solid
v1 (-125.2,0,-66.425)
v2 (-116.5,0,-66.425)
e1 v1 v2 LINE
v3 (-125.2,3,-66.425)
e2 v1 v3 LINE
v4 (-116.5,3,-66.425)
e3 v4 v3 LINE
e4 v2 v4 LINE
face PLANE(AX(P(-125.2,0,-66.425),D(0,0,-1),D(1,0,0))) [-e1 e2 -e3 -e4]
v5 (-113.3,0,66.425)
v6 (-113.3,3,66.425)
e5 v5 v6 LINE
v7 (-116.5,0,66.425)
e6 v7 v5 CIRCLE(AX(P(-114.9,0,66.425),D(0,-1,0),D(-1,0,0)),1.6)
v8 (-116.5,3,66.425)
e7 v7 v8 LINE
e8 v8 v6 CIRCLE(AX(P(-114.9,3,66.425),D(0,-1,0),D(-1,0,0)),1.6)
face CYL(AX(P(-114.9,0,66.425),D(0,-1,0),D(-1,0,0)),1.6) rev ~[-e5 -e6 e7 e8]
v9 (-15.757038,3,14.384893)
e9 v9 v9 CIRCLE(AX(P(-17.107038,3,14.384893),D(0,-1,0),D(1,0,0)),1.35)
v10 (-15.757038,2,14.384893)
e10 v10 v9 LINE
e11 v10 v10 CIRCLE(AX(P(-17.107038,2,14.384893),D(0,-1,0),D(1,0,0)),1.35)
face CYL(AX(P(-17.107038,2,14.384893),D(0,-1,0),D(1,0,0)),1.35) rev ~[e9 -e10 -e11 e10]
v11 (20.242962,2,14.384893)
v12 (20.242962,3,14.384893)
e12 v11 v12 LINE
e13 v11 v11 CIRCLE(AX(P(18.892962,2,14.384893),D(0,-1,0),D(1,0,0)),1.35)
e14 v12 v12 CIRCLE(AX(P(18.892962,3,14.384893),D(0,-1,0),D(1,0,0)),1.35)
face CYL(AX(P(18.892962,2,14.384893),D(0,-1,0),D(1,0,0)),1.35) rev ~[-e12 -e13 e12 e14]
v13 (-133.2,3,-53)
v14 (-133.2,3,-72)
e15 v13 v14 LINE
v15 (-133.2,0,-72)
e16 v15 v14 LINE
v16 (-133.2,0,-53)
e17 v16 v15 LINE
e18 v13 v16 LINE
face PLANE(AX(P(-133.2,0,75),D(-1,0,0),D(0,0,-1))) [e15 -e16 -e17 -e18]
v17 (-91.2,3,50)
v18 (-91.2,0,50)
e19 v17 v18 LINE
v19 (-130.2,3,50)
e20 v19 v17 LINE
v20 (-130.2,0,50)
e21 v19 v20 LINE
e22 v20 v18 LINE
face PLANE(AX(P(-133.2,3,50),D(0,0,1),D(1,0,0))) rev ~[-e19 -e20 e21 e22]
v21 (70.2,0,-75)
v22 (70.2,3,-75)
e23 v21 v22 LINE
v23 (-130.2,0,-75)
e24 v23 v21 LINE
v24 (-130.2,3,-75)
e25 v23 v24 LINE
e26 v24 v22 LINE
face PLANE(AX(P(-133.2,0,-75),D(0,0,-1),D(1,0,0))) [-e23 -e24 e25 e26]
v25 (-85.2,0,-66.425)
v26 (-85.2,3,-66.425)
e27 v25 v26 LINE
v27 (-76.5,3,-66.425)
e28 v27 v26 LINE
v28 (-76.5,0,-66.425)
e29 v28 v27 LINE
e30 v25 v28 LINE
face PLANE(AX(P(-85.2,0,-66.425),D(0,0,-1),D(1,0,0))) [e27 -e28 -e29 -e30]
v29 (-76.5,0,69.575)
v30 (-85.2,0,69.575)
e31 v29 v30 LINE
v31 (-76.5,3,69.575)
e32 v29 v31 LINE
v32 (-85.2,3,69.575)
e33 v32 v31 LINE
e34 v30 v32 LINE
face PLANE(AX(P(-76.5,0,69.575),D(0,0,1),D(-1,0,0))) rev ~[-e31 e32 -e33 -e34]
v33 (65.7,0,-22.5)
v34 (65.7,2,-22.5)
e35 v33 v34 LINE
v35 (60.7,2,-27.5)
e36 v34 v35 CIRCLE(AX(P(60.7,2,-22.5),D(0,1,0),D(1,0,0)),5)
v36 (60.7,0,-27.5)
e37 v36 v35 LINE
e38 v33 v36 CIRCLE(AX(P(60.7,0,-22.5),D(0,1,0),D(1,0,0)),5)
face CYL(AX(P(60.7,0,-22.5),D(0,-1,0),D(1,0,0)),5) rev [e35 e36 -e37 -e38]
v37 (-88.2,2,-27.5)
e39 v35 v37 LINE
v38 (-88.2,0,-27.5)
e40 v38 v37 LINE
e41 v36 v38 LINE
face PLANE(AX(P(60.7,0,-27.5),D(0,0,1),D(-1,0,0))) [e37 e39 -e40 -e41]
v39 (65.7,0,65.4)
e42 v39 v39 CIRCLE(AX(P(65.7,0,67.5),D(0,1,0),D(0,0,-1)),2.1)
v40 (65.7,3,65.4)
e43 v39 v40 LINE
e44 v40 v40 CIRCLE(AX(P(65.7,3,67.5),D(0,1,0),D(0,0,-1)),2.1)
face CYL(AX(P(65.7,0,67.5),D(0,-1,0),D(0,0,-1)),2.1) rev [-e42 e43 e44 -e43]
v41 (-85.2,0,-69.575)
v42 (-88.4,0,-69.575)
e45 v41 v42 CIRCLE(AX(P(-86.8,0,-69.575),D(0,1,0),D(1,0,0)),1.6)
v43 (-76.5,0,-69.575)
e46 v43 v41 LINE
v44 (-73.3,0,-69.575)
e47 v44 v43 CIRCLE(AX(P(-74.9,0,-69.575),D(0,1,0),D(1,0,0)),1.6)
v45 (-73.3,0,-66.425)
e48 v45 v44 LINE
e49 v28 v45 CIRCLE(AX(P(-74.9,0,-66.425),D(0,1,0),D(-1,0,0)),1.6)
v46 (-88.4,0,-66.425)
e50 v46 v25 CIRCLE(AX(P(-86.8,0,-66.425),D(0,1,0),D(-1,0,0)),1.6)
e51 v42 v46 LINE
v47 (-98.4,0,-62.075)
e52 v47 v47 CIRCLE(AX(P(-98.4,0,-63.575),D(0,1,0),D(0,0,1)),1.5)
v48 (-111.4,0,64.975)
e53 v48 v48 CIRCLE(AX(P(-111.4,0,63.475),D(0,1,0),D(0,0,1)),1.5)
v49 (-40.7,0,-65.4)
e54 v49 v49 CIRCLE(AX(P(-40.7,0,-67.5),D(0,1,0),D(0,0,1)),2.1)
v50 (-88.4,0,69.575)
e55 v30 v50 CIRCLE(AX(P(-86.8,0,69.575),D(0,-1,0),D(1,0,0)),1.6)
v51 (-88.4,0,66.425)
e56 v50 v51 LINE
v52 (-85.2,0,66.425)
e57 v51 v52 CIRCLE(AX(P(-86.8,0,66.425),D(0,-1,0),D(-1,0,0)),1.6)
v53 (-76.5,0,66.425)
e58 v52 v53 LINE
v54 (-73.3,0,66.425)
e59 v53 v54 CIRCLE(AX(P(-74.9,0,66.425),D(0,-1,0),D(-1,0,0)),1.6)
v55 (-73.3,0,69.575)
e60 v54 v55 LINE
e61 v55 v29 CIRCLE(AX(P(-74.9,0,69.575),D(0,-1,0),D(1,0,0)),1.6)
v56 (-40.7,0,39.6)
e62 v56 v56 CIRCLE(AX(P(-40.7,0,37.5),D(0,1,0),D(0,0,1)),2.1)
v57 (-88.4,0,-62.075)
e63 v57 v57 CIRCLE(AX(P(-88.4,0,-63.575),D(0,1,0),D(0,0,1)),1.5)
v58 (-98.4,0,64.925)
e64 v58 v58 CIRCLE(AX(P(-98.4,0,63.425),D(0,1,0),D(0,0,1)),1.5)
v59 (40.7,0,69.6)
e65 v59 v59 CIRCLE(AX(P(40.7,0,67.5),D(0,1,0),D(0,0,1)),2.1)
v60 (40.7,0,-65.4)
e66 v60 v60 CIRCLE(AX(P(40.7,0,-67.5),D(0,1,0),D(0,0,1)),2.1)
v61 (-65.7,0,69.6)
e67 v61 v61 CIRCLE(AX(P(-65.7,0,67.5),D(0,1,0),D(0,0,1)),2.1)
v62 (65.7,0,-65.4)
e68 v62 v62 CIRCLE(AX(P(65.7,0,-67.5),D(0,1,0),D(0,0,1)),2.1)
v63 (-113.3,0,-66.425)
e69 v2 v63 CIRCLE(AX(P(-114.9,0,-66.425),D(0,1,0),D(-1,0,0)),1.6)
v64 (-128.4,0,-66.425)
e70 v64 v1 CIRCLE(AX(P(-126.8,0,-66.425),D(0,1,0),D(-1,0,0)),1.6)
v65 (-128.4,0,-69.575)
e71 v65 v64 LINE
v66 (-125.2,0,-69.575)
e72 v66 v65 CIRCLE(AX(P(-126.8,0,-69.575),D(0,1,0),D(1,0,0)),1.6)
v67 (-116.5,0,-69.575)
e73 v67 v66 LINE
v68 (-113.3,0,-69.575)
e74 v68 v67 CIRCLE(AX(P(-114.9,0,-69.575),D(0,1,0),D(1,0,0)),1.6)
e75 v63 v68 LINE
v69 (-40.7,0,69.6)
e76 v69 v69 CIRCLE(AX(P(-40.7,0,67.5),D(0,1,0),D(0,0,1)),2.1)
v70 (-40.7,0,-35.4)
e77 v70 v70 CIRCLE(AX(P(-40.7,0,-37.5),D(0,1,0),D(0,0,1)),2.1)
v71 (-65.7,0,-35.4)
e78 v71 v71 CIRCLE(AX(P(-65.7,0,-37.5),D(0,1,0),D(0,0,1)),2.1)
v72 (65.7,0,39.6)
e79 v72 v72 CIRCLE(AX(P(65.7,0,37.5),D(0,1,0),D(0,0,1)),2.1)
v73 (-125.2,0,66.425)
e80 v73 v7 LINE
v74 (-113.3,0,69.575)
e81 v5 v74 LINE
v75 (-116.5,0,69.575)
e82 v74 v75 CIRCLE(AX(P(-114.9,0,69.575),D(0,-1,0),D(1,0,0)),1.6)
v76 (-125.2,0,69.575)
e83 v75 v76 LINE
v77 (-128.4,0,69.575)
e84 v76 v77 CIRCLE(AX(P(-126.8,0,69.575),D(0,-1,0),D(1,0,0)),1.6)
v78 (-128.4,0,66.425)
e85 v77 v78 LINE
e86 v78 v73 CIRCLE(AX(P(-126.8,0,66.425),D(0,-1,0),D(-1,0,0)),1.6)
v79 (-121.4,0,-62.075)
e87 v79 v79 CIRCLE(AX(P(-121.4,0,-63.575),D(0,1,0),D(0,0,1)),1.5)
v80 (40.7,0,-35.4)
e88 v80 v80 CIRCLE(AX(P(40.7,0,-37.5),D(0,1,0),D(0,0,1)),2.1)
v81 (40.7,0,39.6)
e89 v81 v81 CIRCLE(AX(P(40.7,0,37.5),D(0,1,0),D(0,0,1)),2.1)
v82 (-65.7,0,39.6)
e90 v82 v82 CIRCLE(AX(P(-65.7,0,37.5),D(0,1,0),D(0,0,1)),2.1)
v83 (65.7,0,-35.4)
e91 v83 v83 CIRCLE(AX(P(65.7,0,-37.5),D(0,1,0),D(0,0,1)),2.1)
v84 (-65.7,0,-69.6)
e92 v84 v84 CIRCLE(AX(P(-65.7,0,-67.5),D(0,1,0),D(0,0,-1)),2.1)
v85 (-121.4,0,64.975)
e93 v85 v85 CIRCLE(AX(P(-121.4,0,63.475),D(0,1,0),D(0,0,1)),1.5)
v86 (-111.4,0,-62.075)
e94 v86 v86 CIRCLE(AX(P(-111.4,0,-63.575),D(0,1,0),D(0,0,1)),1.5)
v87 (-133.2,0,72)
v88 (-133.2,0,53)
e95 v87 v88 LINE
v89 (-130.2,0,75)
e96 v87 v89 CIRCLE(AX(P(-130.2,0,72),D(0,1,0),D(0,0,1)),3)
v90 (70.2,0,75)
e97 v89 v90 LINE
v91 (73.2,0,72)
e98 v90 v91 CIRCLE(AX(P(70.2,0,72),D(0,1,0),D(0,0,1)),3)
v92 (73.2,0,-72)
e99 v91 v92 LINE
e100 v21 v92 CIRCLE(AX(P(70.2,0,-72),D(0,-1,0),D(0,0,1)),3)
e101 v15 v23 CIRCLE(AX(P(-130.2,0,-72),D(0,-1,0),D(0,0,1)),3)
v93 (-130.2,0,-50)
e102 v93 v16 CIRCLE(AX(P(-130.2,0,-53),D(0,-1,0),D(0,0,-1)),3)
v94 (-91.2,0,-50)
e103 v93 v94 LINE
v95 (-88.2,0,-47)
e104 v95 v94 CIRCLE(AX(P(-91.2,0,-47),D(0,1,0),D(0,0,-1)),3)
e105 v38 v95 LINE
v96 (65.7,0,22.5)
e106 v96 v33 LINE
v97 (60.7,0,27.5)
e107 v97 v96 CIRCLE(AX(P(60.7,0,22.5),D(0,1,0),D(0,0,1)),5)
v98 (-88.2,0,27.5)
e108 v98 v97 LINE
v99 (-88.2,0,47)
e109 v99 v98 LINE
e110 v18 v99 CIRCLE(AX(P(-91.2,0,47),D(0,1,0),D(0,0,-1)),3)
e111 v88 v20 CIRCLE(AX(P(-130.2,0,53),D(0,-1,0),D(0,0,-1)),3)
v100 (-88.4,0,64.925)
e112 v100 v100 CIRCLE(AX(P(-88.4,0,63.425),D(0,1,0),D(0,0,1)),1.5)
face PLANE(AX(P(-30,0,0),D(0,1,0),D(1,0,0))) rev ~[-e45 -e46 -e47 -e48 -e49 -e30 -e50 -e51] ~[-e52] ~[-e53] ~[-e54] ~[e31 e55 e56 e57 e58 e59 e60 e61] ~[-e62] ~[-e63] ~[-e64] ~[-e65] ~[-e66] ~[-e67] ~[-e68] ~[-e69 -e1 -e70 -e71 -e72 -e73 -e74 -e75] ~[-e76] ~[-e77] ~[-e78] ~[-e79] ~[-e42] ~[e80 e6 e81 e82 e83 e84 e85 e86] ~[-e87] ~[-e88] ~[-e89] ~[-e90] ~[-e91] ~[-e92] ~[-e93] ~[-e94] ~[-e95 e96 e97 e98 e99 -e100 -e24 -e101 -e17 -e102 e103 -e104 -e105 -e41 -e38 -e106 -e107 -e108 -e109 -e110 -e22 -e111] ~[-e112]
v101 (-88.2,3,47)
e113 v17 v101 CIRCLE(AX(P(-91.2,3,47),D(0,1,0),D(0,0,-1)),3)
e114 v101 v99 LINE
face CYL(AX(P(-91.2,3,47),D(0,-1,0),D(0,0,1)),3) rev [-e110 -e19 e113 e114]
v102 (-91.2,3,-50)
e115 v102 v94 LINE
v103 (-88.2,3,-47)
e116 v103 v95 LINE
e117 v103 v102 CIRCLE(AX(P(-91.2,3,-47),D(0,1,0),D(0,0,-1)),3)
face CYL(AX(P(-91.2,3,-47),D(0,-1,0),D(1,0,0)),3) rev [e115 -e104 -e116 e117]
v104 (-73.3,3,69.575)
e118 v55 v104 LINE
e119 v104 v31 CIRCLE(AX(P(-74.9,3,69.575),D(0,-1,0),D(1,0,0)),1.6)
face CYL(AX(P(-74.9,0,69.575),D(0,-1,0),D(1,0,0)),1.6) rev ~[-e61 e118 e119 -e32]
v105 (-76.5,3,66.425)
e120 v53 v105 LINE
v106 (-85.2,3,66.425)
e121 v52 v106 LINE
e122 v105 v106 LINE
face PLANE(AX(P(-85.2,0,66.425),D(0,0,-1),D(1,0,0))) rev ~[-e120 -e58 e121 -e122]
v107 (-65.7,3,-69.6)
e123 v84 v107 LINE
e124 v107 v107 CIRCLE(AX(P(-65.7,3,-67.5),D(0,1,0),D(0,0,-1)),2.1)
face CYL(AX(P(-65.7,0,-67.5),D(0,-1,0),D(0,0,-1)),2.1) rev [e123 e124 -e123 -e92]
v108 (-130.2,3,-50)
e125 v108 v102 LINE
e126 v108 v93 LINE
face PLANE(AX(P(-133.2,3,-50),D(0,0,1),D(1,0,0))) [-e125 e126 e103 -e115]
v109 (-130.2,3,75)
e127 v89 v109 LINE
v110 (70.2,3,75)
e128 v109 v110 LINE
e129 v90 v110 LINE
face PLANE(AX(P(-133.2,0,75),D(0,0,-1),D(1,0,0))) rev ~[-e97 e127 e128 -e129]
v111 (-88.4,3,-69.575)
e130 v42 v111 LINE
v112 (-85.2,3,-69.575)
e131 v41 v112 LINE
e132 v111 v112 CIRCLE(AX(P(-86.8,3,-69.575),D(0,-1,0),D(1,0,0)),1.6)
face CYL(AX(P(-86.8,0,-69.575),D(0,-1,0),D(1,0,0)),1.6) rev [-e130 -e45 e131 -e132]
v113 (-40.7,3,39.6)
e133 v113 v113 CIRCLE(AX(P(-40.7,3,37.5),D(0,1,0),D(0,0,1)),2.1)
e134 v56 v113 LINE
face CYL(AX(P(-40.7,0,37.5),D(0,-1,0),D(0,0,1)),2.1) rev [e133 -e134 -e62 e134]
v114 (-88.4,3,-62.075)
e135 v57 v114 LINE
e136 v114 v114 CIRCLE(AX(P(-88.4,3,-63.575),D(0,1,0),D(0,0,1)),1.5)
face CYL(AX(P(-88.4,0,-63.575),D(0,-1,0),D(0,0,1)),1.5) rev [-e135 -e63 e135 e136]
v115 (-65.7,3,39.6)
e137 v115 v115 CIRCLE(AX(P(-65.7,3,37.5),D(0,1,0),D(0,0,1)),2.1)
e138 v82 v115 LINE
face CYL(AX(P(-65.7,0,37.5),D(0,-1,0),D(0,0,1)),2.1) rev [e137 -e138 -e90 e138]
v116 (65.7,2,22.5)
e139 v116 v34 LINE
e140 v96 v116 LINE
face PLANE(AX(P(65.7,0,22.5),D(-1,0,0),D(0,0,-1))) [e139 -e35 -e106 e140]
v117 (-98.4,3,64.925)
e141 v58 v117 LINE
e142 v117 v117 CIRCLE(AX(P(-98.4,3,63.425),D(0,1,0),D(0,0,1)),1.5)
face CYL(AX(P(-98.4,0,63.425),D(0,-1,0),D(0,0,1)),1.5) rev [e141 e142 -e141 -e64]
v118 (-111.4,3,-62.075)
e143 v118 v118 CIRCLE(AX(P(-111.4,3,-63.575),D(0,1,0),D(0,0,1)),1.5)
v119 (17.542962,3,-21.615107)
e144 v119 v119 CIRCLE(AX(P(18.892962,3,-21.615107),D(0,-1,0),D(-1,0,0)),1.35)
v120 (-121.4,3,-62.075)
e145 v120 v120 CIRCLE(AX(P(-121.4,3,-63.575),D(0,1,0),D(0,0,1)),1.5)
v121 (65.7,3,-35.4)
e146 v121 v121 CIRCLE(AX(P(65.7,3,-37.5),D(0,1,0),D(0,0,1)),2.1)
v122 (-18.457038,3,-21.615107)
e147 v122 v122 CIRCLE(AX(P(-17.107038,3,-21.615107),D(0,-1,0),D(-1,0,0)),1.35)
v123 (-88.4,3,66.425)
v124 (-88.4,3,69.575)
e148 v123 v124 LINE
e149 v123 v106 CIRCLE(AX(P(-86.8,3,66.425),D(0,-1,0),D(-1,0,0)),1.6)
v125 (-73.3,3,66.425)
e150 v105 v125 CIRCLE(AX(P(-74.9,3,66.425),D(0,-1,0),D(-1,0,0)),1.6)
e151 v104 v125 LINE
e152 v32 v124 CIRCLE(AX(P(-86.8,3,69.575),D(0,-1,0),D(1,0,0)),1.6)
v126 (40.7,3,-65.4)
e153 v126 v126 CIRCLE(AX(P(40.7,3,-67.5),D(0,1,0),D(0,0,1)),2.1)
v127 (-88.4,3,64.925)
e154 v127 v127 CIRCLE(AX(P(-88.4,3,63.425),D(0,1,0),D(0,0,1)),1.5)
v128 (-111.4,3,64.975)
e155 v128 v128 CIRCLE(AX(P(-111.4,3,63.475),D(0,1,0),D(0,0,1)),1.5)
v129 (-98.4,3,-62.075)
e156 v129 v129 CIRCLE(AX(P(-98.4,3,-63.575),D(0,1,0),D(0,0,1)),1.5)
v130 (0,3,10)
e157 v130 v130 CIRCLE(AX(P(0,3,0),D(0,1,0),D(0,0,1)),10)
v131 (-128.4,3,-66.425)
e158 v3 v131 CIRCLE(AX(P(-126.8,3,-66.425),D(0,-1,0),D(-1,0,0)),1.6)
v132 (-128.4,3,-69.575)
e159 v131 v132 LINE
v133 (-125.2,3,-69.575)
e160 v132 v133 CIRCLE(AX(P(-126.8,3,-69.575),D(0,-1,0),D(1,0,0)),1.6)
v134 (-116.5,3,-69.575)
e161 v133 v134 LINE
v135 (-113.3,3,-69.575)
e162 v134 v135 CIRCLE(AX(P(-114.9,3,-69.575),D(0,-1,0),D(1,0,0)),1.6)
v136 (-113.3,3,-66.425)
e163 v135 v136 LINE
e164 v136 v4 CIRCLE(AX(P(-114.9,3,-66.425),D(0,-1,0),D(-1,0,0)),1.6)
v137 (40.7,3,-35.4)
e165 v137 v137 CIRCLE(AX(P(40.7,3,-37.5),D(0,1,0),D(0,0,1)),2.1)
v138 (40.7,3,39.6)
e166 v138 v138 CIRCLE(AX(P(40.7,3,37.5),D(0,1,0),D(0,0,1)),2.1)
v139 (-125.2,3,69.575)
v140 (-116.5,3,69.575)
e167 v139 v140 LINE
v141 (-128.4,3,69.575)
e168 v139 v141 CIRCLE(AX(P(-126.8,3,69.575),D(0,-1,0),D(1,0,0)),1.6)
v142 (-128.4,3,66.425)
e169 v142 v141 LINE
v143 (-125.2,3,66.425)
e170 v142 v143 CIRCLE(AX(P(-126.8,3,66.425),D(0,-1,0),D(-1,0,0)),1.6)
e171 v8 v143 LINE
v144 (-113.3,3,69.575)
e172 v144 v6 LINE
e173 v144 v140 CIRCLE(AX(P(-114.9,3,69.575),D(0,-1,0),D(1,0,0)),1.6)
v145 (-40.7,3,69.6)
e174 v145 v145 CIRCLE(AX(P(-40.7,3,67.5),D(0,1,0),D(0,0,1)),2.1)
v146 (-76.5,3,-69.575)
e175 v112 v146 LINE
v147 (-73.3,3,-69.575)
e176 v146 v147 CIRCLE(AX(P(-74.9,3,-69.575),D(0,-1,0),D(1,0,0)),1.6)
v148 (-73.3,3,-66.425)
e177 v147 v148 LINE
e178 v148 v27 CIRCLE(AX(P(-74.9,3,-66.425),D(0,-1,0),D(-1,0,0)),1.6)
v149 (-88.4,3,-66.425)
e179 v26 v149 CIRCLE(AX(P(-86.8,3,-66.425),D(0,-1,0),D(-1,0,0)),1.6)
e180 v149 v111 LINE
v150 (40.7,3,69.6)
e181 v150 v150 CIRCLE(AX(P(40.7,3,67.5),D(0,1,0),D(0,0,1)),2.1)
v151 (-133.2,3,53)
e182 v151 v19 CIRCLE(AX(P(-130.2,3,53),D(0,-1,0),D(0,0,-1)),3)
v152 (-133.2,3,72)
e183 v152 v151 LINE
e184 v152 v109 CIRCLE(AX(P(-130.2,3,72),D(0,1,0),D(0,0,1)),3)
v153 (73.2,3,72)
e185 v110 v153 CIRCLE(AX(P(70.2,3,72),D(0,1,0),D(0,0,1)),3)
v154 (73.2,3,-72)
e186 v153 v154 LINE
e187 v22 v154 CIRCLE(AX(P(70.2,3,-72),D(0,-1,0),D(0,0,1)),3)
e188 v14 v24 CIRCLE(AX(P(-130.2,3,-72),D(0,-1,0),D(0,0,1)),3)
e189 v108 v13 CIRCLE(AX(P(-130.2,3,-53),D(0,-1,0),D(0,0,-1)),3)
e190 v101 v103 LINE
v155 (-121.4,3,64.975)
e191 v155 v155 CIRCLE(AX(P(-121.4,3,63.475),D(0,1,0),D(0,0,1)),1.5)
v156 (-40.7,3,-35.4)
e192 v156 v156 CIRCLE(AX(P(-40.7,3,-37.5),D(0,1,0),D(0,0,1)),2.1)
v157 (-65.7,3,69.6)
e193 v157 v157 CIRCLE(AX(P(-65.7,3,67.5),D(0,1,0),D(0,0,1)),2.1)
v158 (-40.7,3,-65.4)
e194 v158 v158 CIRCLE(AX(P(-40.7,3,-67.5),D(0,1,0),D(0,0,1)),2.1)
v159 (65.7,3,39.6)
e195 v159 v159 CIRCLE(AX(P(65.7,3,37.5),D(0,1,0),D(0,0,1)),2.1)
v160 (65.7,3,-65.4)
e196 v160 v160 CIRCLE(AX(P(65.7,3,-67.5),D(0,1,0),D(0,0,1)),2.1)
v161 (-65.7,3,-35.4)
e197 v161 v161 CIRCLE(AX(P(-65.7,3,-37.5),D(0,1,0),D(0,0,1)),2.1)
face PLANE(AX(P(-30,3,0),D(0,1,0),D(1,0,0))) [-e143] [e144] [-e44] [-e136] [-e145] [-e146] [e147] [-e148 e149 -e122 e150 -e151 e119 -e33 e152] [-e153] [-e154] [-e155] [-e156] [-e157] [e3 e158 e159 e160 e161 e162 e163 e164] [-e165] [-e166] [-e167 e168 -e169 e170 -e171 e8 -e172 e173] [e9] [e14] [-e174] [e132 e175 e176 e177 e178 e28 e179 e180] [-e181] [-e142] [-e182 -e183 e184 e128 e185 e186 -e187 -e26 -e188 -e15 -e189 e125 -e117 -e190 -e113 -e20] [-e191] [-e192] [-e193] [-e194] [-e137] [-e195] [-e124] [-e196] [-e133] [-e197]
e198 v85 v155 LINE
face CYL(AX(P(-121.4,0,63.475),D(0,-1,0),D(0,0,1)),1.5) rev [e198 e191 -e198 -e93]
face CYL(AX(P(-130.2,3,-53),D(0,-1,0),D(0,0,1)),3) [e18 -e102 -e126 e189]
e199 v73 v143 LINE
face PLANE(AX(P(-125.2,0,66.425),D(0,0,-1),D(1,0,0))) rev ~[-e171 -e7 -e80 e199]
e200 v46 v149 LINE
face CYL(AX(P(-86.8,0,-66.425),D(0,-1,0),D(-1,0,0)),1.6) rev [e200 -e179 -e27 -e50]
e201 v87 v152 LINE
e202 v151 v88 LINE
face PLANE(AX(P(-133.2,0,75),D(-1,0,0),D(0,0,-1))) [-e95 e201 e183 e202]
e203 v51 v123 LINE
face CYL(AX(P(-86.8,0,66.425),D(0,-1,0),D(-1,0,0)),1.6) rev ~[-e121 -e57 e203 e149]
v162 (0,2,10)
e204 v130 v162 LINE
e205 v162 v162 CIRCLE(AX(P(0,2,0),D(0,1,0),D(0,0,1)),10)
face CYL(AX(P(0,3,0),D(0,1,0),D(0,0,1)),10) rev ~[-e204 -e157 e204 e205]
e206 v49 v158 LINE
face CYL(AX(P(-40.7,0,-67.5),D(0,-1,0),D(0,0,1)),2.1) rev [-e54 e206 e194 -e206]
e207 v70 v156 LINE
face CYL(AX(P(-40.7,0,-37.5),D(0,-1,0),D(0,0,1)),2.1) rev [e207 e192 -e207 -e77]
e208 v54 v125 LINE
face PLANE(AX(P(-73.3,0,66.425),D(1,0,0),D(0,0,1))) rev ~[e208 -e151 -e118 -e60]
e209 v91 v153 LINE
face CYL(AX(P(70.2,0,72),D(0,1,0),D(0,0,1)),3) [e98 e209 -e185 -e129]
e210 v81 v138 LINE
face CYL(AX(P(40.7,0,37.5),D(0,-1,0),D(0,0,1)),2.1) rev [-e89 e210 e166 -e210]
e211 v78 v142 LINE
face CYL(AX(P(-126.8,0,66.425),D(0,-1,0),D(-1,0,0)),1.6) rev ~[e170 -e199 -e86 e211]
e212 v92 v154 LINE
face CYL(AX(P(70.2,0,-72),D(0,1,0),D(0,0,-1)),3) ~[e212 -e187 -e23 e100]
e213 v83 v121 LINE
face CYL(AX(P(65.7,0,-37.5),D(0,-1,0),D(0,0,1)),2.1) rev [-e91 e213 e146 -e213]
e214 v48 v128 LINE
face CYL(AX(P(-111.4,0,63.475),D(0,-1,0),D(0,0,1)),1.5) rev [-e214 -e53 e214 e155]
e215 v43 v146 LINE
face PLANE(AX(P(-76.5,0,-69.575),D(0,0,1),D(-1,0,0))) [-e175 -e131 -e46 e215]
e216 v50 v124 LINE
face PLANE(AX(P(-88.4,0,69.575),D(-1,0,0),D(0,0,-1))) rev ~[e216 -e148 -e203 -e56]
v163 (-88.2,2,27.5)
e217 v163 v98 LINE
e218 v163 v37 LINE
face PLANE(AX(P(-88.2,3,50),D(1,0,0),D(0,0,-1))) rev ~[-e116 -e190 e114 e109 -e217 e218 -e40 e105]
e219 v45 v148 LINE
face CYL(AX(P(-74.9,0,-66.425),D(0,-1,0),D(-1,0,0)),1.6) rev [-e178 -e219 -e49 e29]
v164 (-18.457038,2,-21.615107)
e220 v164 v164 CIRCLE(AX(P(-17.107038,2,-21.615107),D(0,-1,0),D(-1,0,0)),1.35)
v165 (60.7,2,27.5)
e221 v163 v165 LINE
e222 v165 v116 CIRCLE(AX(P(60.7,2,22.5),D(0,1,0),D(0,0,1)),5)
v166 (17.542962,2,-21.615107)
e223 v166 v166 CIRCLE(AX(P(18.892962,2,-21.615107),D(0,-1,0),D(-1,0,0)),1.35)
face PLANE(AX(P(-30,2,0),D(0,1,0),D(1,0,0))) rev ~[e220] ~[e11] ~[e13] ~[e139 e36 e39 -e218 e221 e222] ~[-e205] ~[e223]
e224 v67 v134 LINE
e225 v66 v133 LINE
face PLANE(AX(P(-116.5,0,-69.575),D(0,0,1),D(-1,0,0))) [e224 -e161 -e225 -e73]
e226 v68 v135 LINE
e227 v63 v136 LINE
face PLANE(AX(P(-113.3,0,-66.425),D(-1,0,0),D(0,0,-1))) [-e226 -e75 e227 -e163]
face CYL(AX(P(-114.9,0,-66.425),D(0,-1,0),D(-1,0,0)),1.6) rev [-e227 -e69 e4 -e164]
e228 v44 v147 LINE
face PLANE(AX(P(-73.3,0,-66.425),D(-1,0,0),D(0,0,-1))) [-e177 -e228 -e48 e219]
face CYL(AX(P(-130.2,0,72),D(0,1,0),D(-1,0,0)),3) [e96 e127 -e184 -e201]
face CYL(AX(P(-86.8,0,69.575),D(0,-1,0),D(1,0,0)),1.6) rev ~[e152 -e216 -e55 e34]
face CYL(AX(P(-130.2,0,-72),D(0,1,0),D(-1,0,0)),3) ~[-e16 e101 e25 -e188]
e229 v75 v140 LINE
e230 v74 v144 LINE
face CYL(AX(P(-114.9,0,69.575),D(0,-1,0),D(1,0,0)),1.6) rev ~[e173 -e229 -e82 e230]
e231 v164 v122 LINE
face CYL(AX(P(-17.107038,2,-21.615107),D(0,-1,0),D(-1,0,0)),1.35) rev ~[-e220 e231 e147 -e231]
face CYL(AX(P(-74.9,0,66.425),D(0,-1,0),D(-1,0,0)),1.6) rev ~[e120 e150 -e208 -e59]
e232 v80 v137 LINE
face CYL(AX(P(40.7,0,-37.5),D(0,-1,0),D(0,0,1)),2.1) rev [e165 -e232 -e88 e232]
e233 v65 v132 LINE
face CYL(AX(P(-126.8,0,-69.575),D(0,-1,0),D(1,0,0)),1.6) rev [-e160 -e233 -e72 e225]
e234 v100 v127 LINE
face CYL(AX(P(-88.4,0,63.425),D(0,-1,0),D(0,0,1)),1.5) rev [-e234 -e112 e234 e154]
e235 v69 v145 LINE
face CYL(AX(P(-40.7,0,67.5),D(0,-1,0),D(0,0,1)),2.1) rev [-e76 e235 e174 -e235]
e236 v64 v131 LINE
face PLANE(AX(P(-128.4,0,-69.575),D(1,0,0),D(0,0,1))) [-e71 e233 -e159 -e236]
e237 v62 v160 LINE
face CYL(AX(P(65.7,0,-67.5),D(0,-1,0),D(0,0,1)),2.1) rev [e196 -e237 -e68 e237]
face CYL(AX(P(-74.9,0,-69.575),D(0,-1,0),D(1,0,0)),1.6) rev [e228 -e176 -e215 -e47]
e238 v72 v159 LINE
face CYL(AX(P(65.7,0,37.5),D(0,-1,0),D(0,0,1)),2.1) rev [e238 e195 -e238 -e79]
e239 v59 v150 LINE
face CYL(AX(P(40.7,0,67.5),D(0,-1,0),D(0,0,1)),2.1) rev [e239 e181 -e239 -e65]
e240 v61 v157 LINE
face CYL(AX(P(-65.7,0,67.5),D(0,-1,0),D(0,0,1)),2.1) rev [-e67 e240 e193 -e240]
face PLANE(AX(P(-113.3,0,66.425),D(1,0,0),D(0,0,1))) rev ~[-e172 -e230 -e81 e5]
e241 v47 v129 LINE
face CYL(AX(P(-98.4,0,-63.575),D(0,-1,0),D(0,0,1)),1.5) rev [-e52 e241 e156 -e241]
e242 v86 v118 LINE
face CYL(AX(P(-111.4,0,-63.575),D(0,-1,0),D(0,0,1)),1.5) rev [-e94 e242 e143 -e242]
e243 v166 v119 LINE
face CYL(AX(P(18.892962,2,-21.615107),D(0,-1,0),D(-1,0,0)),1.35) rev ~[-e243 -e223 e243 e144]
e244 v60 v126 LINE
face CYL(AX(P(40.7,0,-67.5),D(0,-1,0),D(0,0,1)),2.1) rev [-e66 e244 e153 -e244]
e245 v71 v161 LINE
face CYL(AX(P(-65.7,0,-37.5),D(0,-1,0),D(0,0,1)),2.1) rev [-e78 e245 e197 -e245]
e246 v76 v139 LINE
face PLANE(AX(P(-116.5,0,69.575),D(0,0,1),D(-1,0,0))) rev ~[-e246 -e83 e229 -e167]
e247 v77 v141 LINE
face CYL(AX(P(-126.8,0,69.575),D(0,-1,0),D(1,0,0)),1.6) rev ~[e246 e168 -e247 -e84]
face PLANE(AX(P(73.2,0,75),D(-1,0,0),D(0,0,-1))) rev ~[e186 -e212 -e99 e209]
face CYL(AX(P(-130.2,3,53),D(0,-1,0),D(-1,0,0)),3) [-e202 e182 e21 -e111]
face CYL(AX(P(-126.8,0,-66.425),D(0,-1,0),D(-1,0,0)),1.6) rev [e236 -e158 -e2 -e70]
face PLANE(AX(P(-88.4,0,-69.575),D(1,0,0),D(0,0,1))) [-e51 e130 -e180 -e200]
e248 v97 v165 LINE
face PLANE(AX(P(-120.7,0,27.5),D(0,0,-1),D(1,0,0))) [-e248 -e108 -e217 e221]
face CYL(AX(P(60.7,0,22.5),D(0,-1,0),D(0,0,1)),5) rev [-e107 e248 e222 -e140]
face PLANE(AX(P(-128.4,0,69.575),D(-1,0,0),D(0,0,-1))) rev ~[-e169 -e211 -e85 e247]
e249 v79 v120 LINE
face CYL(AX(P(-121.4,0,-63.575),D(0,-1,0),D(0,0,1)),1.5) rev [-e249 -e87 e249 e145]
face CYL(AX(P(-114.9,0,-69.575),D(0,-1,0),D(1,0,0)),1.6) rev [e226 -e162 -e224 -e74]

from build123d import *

# Parameters (mm, degrees)
SKETCH_1_W          = 206.4
SKETCH_1_H          = 150
SKETCH_1_R          = 2.1
SKETCH_1_R_2        = 1.5
EXTRUDE_1_DEPTH     = 3
CUT_EXTRUDE_1_DEPTH = 153.892903694
FILLET_1_R          = 3
CUT_EXTRUDE_2_DEPTH = 2
SKETCH_6_R          = 10
CUT_EXTRUDE_3_DEPTH = 10
SKETCH_7_W          = 45
SKETCH_7_H          = 100
CUT_EXTRUDE_4_DEPTH = 10
FILLET_2_R          = 3
CUT_EXTRUDE_5_DEPTH = 10


with BuildPart() as part:
    # 草图1 → 凸台-拉伸1 (new body)
    with BuildSketch(Plane(origin=(0, 0, 0), x_dir=(1, 0, 0), z_dir=(0, 1, 0))):
        with Locations((-30, 0)):
            Rectangle(SKETCH_1_W, SKETCH_1_H)
        with Locations(Location((65.7, 67.5, 0), (0, 0, 270))):
            Circle(SKETCH_1_R, mode=Mode.SUBTRACT)
        with Locations(Location((65.7, -67.5, 0), (0, 0, 90))):
            Circle(SKETCH_1_R, mode=Mode.SUBTRACT)
        with Locations(Location((-65.7, -67.5, 0), (0, 0, 270))):
            Circle(SKETCH_1_R, mode=Mode.SUBTRACT)
        with Locations(Location((-65.7, 67.5, 0), (0, 0, 90))):
            Circle(SKETCH_1_R, mode=Mode.SUBTRACT)
        with Locations(Location((-65.7, 37.5, 0), (0, 0, 270))):
            Circle(SKETCH_1_R, mode=Mode.SUBTRACT)
        with Locations(Location((-40.7, 37.5, 0), (0, 0, 270))):
            Circle(SKETCH_1_R, mode=Mode.SUBTRACT)
        with Locations(Location((-40.7, 67.5, 0), (0, 0, 270))):
            Circle(SKETCH_1_R, mode=Mode.SUBTRACT)
        with Locations(Location((-40.7, -67.5, 0), (0, 0, 270))):
            Circle(SKETCH_1_R, mode=Mode.SUBTRACT)
        with Locations(Location((-40.7, -37.5, 0), (0, 0, 270))):
            Circle(SKETCH_1_R, mode=Mode.SUBTRACT)
        with Locations(Location((-65.7, -37.5, 0), (0, 0, 270))):
            Circle(SKETCH_1_R, mode=Mode.SUBTRACT)
        with Locations(Location((40.7, -67.5, 0), (0, 0, 270))):
            Circle(SKETCH_1_R, mode=Mode.SUBTRACT)
        with Locations(Location((40.7, -37.5, 0), (0, 0, 270))):
            Circle(SKETCH_1_R, mode=Mode.SUBTRACT)
        with Locations(Location((65.7, -37.5, 0), (0, 0, 270))):
            Circle(SKETCH_1_R, mode=Mode.SUBTRACT)
        with Locations(Location((65.7, 37.5, 0), (0, 0, 270))):
            Circle(SKETCH_1_R, mode=Mode.SUBTRACT)
        with Locations(Location((40.7, 37.5, 0), (0, 0, 270))):
            Circle(SKETCH_1_R, mode=Mode.SUBTRACT)
        with Locations(Location((40.7, 67.5, 0), (0, 0, 270))):
            Circle(SKETCH_1_R, mode=Mode.SUBTRACT)
        with Locations(Location((-98.4, 63.575, 0), (0, 0, 270))):
            Circle(SKETCH_1_R_2, mode=Mode.SUBTRACT)
        with Locations(Location((-88.4, 63.575, 0), (0, 0, 270))):
            Circle(SKETCH_1_R_2, mode=Mode.SUBTRACT)
        with Locations(Location((-111.4, 63.575, 0), (0, 0, 270))):
            Circle(SKETCH_1_R_2, mode=Mode.SUBTRACT)
        with Locations(Location((-121.4, 63.575, 0), (0, 0, 270))):
            Circle(SKETCH_1_R_2, mode=Mode.SUBTRACT)
        with Locations(Location((-121.4, -63.474999999, 0), (0, 0, 270))):
            Circle(SKETCH_1_R_2, mode=Mode.SUBTRACT)
        with Locations(Location((-111.4, -63.474999999, 0), (0, 0, 270))):
            Circle(SKETCH_1_R_2, mode=Mode.SUBTRACT)
        with Locations(Location((-98.4, -63.425, 0), (0, 0, 270))):
            Circle(SKETCH_1_R_2, mode=Mode.SUBTRACT)
        with Locations(Location((-88.4, -63.425, 0), (0, 0, 270))):
            Circle(SKETCH_1_R_2, mode=Mode.SUBTRACT)
    extrude(amount=EXTRUDE_1_DEPTH)

    # 草图2 → 切除-拉伸1 (cut, through all)
    with BuildSketch(Plane(origin=(0, 0, 0), x_dir=(1, 0, 0), z_dir=(0, 1, 0))):
        with BuildLine():
            Line((-125.2, -66.425), (-116.5, -66.425))
            ThreePointArc((-116.5, -66.425), (-114.9, -64.825), (-113.3, -66.425))
            Line((-113.3, -66.425), (-113.3, -69.575))
            ThreePointArc((-113.3, -69.575), (-114.9, -71.175), (-116.5, -69.575))
            Line((-116.5, -69.575), (-125.2, -69.575))
            ThreePointArc((-125.2, -69.575), (-126.8, -71.175), (-128.4, -69.575))
            Line((-128.4, -69.575), (-128.4, -66.425))
            ThreePointArc((-128.4, -66.425), (-126.8, -64.825), (-125.2, -66.425))
        make_face()
        with BuildLine():
            Line((-85.2, -66.425), (-76.5, -66.425))
            ThreePointArc((-76.5, -66.425), (-74.9, -64.825), (-73.3, -66.425))
            Line((-73.3, -66.425), (-73.3, -69.575))
            ThreePointArc((-73.3, -69.575), (-74.9, -71.175), (-76.5, -69.575))
            Line((-76.5, -69.575), (-85.2, -69.575))
            ThreePointArc((-85.2, -69.575), (-86.8, -71.175), (-88.4, -69.575))
            Line((-88.4, -69.575), (-88.4, -66.425))
            ThreePointArc((-88.4, -66.425), (-86.8, -64.825), (-85.2, -66.425))
        make_face()
        with BuildLine():
            Line((-73.3, 66.425), (-73.3, 69.575))
            ThreePointArc((-73.3, 69.575), (-74.9, 71.175), (-76.5, 69.575))
            Line((-76.5, 69.575), (-85.2, 69.575))
            ThreePointArc((-85.2, 69.575), (-86.8, 71.175), (-88.4, 69.575))
            Line((-88.4, 69.575), (-88.4, 66.425))
            ThreePointArc((-88.4, 66.425), (-86.8, 64.825), (-85.2, 66.425))
            Line((-85.2, 66.425), (-76.5, 66.425))
            ThreePointArc((-76.5, 66.425), (-74.9, 64.825), (-73.3, 66.425))
        make_face()
        with BuildLine():
            Line((-113.3, 66.425), (-113.3, 69.575))
            ThreePointArc((-113.3, 69.575), (-114.9, 71.175), (-116.5, 69.575))
            Line((-116.5, 69.575), (-125.2, 69.575))
            ThreePointArc((-125.2, 69.575), (-126.8, 71.175), (-128.4, 69.575))
            Line((-128.4, 69.575), (-128.4, 66.425))
            ThreePointArc((-128.4, 66.425), (-126.8, 64.825), (-125.2, 66.425))
            Line((-125.2, 66.425), (-116.5, 66.425))
            ThreePointArc((-116.5, 66.425), (-114.9, 64.825), (-113.3, 66.425))
        make_face()
    extrude(amount=CUT_EXTRUDE_1_DEPTH, mode=Mode.SUBTRACT)

    # 圆角1
    fillet_1_edges = [part.edges().sort_by_distance(p)[0] for p in [
        (73.2, 1.5, 75),
        (-133.2, 1.5, 75),
        (-133.2, 1.5, -75),
        (73.2, 1.5, -75),
    ]]
    fillet(fillet_1_edges, radius=FILLET_1_R)

    # 草图4 → 切除-拉伸2 (cut)
    with BuildSketch(Plane(origin=(0, 0, 0), x_dir=(1, 0, 0), z_dir=(0, 1, 0))):
        with BuildLine():
            Line((-120.7, -27.5), (60.7, -27.5))
            ThreePointArc((60.7, -27.5), (64.235533906, -26.035533906), (65.7, -22.5))
            Line((65.7, -22.5), (65.7, 22.5))
            ThreePointArc((65.7, 22.5), (64.235533906, 26.035533906), (60.7, 27.5))
            Line((60.7, 27.5), (-120.7, 27.5))
            ThreePointArc((-120.7, 27.5), (-124.235533906, 26.035533906), (-125.7, 22.5))
            Line((-125.7, 22.5), (-125.7, -22.5))
            ThreePointArc((-125.7, -22.5), (-124.235533906, -26.035533906), (-120.7, -27.5))
        make_face()
    extrude(amount=CUT_EXTRUDE_2_DEPTH, mode=Mode.SUBTRACT)

    # 草图6 → 切除-拉伸3 (cut)
    with BuildSketch(Plane(origin=(0, 3, 0), x_dir=(1, 0, 0), z_dir=(0, 1, 0))):
        with Locations(Location((0, 0, 0), (0, 0, 270))):
            Circle(SKETCH_6_R)
    extrude(amount=-CUT_EXTRUDE_3_DEPTH, mode=Mode.SUBTRACT)

    # 草图7 → 切除-拉伸4 (cut)
    with BuildSketch(Plane(origin=(0, 3, 0), x_dir=(1, 0, 0), z_dir=(0, 1, 0))):
        with Locations((-110.7, 0)):
            Rectangle(SKETCH_7_W, SKETCH_7_H)
    extrude(amount=-CUT_EXTRUDE_4_DEPTH, mode=Mode.SUBTRACT)

    # 圆角2
    fillet_2_edges = [part.edges().sort_by_distance(p)[0] for p in [
        (-133.2, 1.5, 50),
        (-133.2, 1.5, -50),
        (-88.2, 1.5, -50),
        (-88.2, 1.5, 50),
    ]]
    fillet(fillet_2_edges, radius=FILLET_2_R)

    # 草图8 → 切除-拉伸5 (cut)
    with BuildSketch(Plane.XZ.offset(-2)):
        with BuildLine():
            ThreePointArc((17.542961637, 14.384893438), (18.892961637, 13.034893438), (20.242961637, 14.384893438))
            ThreePointArc((20.242961637, 14.384893438), (18.892961637, 15.734893438), (17.542961637, 14.384893438))
        make_face()
        with BuildLine():
            ThreePointArc((-18.457038363, 14.384893438), (-17.107038363, 13.034893438), (-15.757038363, 14.384893438))
            ThreePointArc((-15.757038363, 14.384893438), (-17.107038363, 15.734893438), (-18.457038363, 14.384893438))
        make_face()
        with BuildLine():
            ThreePointArc((-15.757038363, -21.615106562), (-17.107038363, -20.265106562), (-18.457038363, -21.615106562))
            ThreePointArc((-18.457038363, -21.615106562), (-17.107038363, -22.965106562), (-15.757038363, -21.615106562))
        make_face()
        with BuildLine():
            ThreePointArc((20.242961637, -21.615106562), (18.892961637, -20.265106562), (17.542961637, -21.615106562))
            ThreePointArc((17.542961637, -21.615106562), (18.892961637, -22.965106562), (20.242961637, -21.615106562))
        make_face()
    extrude(amount=-CUT_EXTRUDE_5_DEPTH, mode=Mode.SUBTRACT)


solid = part.part
